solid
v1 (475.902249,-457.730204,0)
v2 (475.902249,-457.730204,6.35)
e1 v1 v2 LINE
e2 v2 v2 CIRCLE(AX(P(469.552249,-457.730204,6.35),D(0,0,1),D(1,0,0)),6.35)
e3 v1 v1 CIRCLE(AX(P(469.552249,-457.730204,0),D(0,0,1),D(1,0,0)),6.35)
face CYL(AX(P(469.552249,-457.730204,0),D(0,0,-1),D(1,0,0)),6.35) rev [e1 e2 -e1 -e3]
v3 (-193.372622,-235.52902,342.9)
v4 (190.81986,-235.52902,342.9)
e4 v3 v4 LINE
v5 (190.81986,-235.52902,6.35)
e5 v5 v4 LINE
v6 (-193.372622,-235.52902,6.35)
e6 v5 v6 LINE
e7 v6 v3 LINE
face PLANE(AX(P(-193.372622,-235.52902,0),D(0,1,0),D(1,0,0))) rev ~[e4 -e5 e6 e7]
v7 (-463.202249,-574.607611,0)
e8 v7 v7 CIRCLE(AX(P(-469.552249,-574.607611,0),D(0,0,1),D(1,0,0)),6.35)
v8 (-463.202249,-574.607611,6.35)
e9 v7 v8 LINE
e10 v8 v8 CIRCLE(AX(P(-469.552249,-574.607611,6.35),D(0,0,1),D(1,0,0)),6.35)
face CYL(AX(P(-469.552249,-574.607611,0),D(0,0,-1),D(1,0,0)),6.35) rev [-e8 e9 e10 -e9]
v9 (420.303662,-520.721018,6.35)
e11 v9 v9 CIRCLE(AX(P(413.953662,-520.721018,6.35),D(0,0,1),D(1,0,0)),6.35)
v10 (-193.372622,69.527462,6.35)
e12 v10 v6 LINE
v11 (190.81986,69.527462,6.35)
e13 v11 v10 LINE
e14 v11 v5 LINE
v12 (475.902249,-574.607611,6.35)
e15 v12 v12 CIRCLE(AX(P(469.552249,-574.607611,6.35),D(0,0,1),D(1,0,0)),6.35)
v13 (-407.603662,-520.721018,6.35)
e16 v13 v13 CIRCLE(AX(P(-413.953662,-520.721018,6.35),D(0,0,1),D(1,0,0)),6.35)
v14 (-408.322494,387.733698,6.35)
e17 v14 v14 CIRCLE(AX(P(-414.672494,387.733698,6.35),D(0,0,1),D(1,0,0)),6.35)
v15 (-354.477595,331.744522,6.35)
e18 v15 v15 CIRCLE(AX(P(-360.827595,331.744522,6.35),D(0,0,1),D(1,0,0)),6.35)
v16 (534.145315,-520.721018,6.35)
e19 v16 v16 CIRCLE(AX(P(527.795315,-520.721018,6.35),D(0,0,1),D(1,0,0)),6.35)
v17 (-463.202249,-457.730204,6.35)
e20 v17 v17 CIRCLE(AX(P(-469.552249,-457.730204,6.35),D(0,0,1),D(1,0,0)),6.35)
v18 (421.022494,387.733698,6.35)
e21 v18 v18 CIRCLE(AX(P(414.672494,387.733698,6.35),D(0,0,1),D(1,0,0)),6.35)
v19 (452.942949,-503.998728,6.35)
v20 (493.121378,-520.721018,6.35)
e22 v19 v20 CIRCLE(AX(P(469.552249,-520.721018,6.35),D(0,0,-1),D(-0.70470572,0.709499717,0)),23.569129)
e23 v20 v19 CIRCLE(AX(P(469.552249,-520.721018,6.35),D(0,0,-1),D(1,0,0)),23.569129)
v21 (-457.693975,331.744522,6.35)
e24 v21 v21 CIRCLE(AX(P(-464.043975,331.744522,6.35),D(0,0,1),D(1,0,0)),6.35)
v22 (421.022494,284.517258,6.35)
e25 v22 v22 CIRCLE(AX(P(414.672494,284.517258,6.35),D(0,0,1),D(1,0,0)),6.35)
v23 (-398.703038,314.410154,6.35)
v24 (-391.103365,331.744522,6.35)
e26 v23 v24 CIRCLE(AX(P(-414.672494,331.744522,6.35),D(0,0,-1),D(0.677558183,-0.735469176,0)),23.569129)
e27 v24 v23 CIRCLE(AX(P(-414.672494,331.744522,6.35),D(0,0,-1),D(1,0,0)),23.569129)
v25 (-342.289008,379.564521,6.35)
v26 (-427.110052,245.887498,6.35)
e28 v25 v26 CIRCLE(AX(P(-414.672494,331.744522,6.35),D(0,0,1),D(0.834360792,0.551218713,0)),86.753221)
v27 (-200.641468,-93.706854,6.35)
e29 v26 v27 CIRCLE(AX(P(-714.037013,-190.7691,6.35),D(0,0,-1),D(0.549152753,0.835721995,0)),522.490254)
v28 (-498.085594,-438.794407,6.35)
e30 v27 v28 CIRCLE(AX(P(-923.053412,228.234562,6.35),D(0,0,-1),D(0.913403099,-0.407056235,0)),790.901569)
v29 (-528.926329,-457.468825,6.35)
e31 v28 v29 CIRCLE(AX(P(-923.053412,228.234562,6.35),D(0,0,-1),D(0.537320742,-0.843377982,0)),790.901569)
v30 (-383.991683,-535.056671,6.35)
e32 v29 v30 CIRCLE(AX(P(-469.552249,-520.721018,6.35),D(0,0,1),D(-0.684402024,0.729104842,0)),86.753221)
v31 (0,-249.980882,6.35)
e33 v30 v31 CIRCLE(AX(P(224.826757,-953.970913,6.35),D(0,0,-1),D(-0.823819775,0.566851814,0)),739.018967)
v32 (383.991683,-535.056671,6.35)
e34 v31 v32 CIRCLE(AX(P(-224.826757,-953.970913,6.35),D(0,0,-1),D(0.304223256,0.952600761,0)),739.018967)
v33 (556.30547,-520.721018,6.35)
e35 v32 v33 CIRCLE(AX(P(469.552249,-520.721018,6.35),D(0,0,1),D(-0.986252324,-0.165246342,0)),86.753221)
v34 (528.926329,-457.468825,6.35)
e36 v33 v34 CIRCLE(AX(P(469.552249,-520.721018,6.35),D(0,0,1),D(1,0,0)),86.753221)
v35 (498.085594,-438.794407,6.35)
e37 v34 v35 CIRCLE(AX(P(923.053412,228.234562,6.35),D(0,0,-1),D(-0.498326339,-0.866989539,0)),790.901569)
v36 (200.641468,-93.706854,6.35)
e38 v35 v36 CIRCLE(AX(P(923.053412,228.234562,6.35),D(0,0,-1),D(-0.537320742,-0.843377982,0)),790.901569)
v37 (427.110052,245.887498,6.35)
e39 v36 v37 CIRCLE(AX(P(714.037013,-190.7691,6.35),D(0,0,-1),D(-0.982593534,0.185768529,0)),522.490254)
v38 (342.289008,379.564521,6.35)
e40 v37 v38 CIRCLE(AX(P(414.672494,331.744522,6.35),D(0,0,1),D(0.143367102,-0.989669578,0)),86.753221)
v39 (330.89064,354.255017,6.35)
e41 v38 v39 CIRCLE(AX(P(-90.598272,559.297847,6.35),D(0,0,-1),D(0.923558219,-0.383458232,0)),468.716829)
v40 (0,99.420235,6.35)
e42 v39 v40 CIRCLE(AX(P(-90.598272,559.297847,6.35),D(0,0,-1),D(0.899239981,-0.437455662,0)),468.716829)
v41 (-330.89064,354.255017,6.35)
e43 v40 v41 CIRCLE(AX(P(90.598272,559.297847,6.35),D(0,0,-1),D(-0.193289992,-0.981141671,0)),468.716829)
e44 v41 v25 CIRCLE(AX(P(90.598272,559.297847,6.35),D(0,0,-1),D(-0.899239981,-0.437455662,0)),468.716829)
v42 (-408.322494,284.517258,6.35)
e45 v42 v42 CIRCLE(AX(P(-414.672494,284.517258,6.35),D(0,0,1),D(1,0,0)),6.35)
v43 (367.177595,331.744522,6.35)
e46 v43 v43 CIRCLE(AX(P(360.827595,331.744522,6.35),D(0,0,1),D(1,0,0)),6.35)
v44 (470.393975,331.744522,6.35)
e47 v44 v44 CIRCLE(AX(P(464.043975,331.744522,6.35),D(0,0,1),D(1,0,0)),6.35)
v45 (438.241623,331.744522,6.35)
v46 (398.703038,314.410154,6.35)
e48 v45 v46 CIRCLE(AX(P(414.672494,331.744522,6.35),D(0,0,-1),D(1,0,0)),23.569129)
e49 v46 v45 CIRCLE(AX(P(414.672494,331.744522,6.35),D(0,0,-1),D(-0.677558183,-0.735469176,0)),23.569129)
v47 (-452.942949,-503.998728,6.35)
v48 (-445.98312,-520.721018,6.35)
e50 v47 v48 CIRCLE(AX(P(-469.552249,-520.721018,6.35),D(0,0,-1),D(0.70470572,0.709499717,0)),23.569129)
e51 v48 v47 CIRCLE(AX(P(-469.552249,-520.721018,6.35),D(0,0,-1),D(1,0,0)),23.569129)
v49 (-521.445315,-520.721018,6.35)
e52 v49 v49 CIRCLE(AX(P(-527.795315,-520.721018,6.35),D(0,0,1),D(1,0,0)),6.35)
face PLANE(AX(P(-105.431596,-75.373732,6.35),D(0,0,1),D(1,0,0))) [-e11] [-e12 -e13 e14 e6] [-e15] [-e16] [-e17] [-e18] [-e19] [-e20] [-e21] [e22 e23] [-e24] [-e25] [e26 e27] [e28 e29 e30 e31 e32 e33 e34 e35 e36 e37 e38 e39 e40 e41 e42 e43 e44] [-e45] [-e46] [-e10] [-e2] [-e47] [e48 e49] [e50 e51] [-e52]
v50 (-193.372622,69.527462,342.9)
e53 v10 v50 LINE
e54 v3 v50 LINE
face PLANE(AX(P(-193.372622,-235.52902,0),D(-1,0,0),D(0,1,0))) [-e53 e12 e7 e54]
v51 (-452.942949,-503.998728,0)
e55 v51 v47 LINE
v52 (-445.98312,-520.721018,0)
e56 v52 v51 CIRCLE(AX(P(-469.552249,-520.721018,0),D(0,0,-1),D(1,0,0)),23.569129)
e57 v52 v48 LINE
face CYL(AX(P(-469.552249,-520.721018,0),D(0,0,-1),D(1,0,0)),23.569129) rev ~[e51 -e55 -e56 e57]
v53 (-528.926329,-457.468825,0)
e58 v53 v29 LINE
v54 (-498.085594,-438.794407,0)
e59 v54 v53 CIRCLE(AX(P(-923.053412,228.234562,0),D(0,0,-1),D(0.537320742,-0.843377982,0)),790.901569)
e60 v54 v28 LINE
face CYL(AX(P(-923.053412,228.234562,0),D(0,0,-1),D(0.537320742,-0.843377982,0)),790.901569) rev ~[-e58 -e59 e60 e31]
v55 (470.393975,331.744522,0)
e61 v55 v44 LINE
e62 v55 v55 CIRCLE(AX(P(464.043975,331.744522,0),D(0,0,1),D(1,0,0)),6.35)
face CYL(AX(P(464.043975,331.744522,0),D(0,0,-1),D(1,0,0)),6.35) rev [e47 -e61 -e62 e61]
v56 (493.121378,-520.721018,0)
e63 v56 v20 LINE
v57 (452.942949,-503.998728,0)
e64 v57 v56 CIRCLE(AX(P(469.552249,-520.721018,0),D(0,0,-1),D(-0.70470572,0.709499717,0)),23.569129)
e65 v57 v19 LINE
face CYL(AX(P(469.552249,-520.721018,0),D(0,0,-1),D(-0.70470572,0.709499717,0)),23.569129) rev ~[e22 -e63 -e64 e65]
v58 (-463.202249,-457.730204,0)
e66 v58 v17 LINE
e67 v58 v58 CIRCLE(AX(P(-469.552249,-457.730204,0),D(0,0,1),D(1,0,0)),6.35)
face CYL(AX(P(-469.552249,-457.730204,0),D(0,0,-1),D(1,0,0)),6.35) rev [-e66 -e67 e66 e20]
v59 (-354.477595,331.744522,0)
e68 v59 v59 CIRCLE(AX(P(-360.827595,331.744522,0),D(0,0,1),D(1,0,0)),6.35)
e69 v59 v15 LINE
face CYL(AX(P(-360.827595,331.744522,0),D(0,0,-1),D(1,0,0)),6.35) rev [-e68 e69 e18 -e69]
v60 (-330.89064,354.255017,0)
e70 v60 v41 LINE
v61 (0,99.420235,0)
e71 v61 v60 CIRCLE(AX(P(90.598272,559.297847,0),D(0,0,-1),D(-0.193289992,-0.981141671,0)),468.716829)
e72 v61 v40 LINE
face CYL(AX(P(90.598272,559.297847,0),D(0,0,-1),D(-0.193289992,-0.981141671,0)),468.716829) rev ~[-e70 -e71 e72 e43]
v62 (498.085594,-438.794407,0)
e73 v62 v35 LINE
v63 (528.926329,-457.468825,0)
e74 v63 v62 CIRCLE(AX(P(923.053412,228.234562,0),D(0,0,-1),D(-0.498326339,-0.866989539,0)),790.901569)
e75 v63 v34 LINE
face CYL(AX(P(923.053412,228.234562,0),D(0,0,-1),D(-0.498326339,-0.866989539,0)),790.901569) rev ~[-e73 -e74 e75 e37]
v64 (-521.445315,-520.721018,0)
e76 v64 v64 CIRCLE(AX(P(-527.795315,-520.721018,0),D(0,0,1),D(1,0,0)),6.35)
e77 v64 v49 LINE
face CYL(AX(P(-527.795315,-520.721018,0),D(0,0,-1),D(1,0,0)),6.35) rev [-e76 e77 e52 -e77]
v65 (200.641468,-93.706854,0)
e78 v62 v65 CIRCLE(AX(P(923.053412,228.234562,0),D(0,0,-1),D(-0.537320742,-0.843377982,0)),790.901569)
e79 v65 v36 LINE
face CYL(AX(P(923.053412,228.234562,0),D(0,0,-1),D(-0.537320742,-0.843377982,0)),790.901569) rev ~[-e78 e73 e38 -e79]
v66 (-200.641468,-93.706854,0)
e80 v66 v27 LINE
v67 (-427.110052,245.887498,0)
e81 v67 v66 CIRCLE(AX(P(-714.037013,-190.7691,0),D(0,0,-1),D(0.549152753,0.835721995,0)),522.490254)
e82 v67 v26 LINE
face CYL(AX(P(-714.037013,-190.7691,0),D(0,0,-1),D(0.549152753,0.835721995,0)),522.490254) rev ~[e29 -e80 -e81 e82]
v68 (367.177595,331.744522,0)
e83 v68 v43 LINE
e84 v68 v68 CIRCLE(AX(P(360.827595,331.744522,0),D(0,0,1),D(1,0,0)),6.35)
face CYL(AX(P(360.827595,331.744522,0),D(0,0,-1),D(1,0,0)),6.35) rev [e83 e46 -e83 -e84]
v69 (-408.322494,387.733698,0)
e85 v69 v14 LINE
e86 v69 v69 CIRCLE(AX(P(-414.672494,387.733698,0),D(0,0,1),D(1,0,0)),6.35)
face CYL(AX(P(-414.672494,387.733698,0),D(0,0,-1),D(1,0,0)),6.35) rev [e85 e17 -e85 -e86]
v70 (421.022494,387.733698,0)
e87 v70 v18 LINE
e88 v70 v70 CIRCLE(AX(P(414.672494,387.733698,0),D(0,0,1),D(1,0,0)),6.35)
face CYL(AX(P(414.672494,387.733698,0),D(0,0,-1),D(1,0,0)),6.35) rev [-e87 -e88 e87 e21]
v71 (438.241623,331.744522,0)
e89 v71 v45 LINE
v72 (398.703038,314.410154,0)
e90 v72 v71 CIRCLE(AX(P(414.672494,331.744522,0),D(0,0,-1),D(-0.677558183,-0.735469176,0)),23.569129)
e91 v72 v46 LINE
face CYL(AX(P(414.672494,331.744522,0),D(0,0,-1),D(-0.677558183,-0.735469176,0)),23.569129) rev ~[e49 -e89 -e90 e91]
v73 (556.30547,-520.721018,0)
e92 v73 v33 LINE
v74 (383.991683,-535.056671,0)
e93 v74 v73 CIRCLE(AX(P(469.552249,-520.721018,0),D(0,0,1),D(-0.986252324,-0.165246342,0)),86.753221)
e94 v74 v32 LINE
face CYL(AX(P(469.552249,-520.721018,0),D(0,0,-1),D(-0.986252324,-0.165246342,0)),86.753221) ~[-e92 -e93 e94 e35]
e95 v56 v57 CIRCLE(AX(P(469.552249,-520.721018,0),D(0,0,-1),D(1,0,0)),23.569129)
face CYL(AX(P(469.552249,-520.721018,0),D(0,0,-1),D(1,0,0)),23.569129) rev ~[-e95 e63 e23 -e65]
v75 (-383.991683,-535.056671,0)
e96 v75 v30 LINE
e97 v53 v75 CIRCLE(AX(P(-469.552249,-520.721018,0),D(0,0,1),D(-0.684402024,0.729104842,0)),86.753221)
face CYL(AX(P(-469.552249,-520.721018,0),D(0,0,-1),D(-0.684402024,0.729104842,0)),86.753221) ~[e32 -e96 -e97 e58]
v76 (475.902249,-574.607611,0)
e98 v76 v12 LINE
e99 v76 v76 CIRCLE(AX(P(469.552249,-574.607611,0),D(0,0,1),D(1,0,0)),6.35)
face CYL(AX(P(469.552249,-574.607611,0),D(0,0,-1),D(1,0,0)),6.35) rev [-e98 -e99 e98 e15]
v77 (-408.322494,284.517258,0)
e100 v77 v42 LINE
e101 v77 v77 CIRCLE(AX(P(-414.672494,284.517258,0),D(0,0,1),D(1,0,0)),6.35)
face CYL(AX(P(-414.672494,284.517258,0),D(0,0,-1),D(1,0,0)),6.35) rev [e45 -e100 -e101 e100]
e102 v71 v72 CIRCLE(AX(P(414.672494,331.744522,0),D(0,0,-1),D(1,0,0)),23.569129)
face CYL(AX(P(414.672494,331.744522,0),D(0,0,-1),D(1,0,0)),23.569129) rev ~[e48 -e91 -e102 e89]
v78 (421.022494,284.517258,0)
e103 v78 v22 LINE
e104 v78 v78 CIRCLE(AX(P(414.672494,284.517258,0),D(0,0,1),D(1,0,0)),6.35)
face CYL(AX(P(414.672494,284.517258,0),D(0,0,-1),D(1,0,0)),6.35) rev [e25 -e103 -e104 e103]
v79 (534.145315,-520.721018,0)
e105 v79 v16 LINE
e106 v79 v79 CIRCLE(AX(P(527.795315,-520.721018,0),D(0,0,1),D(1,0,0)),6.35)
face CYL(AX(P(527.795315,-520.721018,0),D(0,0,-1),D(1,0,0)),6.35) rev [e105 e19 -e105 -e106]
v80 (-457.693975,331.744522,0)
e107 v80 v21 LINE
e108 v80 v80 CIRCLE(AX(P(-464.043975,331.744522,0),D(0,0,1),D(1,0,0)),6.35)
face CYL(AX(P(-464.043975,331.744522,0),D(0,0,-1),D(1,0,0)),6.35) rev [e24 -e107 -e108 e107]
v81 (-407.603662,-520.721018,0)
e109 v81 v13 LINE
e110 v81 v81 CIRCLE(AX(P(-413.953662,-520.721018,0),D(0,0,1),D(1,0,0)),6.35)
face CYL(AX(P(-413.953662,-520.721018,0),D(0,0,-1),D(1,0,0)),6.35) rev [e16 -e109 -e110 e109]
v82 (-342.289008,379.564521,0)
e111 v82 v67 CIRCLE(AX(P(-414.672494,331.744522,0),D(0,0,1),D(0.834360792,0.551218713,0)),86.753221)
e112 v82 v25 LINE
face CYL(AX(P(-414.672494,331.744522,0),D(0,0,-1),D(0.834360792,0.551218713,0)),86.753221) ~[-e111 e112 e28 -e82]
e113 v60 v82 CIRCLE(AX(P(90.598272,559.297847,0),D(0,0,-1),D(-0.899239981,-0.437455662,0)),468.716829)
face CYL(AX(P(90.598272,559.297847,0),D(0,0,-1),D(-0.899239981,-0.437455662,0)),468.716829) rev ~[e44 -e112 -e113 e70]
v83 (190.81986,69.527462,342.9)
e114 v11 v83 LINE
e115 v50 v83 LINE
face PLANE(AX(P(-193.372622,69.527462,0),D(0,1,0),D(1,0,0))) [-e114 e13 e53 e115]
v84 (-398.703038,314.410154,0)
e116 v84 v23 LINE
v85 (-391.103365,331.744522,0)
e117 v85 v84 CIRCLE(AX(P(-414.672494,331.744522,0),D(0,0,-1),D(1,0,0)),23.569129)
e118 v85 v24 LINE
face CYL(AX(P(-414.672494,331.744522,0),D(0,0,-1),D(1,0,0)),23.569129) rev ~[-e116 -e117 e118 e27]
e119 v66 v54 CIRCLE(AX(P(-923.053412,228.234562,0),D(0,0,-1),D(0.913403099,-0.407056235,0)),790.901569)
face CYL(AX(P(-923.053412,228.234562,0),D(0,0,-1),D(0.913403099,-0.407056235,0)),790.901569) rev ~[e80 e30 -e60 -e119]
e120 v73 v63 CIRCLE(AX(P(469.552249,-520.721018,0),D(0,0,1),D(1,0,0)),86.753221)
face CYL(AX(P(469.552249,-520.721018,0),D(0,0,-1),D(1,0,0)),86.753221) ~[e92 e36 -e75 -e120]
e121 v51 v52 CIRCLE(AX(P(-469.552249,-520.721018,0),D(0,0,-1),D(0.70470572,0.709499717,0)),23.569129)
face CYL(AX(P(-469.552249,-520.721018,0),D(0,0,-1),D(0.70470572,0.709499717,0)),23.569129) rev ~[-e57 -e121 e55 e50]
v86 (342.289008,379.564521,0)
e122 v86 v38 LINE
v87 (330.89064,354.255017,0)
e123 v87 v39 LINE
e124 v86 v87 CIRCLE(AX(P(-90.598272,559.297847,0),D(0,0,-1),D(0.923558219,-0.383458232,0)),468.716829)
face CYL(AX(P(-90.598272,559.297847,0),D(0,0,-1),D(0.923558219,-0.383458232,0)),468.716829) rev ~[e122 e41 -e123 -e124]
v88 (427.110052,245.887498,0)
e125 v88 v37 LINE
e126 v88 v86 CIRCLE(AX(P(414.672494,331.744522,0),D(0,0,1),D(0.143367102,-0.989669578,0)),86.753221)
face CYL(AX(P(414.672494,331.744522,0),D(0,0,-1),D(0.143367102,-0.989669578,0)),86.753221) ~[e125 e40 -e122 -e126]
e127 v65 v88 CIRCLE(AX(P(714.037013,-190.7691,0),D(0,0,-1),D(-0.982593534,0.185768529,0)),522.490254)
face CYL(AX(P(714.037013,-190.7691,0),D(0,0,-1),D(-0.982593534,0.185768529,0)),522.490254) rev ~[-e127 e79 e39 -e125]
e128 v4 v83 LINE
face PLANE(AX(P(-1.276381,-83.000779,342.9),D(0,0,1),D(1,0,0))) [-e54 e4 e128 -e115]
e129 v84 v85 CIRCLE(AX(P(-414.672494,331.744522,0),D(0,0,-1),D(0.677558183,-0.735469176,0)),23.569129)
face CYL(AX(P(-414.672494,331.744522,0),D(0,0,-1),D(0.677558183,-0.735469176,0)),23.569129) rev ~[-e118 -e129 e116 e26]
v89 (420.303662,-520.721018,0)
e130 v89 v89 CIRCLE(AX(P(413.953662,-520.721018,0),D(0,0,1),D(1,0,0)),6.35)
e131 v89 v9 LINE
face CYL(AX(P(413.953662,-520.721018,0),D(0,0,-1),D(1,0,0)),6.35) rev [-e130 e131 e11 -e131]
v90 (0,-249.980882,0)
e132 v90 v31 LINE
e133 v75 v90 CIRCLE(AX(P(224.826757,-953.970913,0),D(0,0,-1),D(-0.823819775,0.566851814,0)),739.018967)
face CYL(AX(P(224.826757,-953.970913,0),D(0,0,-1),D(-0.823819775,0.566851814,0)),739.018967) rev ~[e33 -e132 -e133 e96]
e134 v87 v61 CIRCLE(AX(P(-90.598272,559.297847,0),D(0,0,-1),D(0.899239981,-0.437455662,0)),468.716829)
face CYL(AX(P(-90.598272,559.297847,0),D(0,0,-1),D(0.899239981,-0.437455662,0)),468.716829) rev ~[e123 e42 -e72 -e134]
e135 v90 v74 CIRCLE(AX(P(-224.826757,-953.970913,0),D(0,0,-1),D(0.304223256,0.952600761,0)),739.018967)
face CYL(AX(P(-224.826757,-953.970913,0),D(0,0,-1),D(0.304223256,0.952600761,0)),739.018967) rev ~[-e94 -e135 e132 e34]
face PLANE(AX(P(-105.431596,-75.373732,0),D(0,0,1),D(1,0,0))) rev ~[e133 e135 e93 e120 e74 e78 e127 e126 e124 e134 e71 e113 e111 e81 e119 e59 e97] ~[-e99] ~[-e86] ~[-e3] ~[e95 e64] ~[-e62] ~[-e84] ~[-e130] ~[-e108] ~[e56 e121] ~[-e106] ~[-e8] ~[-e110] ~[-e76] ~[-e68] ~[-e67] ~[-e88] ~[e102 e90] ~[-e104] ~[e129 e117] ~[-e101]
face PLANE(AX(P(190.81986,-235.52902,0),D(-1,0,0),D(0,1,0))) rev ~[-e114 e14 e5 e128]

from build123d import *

# Parameters (mm, degrees)
F0_R     = 12.7
F0_R_2   = 6.35
F1_DEPTH = 6.35
F2_W     = 384.192481637
F2_H     = 305.0564825535
F3_DEPTH = 342.9


with BuildPart() as f1:
    # F0 (on Top) → F1 (new body)
    with BuildSketch(Plane.XY):
        Polygon((0, 20.4046759754), (0, 99.420234561), (-200.6414681673, 99.420234561), (-200.6414681673, -93.7068536878), (-200.6414681673, -249.9808818102), (0, -249.9808818102), (0, -172.3671704531), (-84.5718756318, -172.3671704531), (-84.5718756318, 20.4046759754), align=None)
        with Locations((-149.8414681673, -186.0281676054)):
            Circle(F0_R, mode=Mode.SUBTRACT)
        with Locations((-149.8410850763, 35.5835556984)):
            Circle(F0_R, mode=Mode.SUBTRACT)
        with BuildLine():
            ThreePointArc((528.9263289283, -457.4688246387), (513.3995365217, -448.3073763574), (498.0855940313, -438.7944071863))
            ThreePointArc((498.0855940313, -438.7944071863), (450.3295426137, -436.1242750207), (408.4167574662, -459.1696323397))
            ThreePointArc((408.4167574662, -459.1696323397), (386.971113082, -494.1413749169), (383.9916826006, -535.0566707847))
            ThreePointArc((383.9916826006, -535.0566707847), (476.7448379257, -607.1755616667), (556.3054700156, -520.7210183144))
            ThreePointArc((556.3054700156, -520.7210183144), (549.1669902089, -486.2592374134), (528.9263289283, -457.4688246387))
        make_face()
        with Locations((413.9536619186, -520.7210183144)):
            Circle(F0_R_2, mode=Mode.SUBTRACT)
        with Locations((469.5522487164, -574.6076107025)):
            Circle(F0_R_2, mode=Mode.SUBTRACT)
        with BuildLine():
            ThreePointArc((493.1213777738, -520.7210183144), (460.4958391633, -542.4807354663), (452.9429486617, -503.9987279144))
            ThreePointArc((452.9429486617, -503.9987279144), (478.6086582694, -498.9613011624), (493.1213777738, -520.7210183144))
        make_face(mode=Mode.SUBTRACT)
        with Locations((527.7953147888, -520.7210183144)):
            Circle(F0_R_2, mode=Mode.SUBTRACT)
        with Locations((469.5522487164, -457.730203867)):
            Circle(F0_R_2, mode=Mode.SUBTRACT)
        with BuildLine():
            ThreePointArc((498.0855940313, -438.7944071863), (323.9779289887, -288.1314492402), (200.6414681673, -93.7068536878))
            Line((200.6414681673, -93.7068536878), (200.6414681673, -249.9808818102))
            Line((200.6414681673, -249.9808818102), (408.4167574662, -459.1696323397))
            ThreePointArc((408.4167574662, -459.1696323397), (450.3295426137, -436.1242750207), (498.0855940313, -438.7944071863))
        make_face()
        Polygon((200.6414681673, 99.420234561), (0, 99.420234561), (0, 20.4046759754), (84.5718756318, 20.4046759754), (84.5718756318, -172.3671704531), (0, -172.3671704531), (0, -249.9808818102), (200.6414681673, -249.9808818102), (200.6414681673, -93.7068536878), align=None)
        with Locations((149.8414681673, -186.0281676054)):
            Circle(F0_R, mode=Mode.SUBTRACT)
        with Locations((149.8410850763, 35.5835556984)):
            Circle(F0_R, mode=Mode.SUBTRACT)
        with BuildLine():
            Line((355.8921389085, 267.9402017142), (200.6414681673, 99.420234561))
            Line((200.6414681673, 99.420234561), (200.6414681673, -93.7068536878))
            ThreePointArc((200.6414681673, -93.7068536878), (279.3415917253, 99.1204583435), (427.1100518471, 245.8874979214))
            ThreePointArc((427.1100518471, 245.8874979214), (389.0113531334, 248.873373327), (355.8921389085, 267.9402017142))
        make_face()
        with BuildLine():
            ThreePointArc((330.8906401246, 354.2550166966), (195.3973793112, 187.9463252543), (0, 99.420234561))
            Line((0, 99.420234561), (200.6414681673, 99.420234561))
            Line((200.6414681673, 99.420234561), (355.8921389085, 267.9402017142))
            ThreePointArc((355.8921389085, 267.9402017142), (331.3444814273, 307.6081646876), (330.8906401246, 354.2550166966))
        make_face()
        with BuildLine():
            Line((-200.6414681673, 99.420234561), (0, 99.420234561))
            ThreePointArc((0, 99.420234561), (-195.3973793112, 187.9463252543), (-330.8906401246, 354.2550166966))
            ThreePointArc((-330.8906401246, 354.2550166966), (-328.6653224016, 343.0974003758), (-327.9192726354, 331.7445218563))
            ThreePointArc((-327.9192726354, 331.7445218563), (-335.2196571274, 296.9110877867), (-355.8921389085, 267.9402017142))
            Line((-355.8921389085, 267.9402017142), (-200.6414681673, 99.420234561))
        make_face()
        with BuildLine():
            Line((-200.6414681673, -93.7068536878), (-200.6414681673, 99.420234561))
            Line((-200.6414681673, 99.420234561), (-355.8921389085, 267.9402017142))
            ThreePointArc((-355.8921389085, 267.9402017142), (-389.0113531334, 248.873373327), (-427.1100518471, 245.8874979214))
            ThreePointArc((-427.1100518471, 245.8874979214), (-279.3415917253, 99.1204583435), (-200.6414681673, -93.7068536878))
        make_face()
        with BuildLine():
            Line((-200.6414681673, -249.9808818102), (-200.6414681673, -93.7068536878))
            ThreePointArc((-200.6414681673, -93.7068536878), (-323.9779289887, -288.1314492402), (-498.0855940313, -438.7944071863))
            ThreePointArc((-498.0855940313, -438.7944071863), (-450.3295426137, -436.1242750207), (-408.4167574662, -459.1696323397))
            Line((-408.4167574662, -459.1696323397), (-200.6414681673, -249.9808818102))
        make_face()
        with BuildLine():
            ThreePointArc((-408.4167574662, -459.1696323397), (-450.3295426137, -436.1242750207), (-498.0855940313, -438.7944071863))
            ThreePointArc((-498.0855940313, -438.7944071863), (-513.3995365217, -448.3073763574), (-528.9263289283, -457.4688246387))
            ThreePointArc((-528.9263289283, -457.4688246387), (-510.4961307794, -597.2044801045), (-383.9916826006, -535.0566707847))
            ThreePointArc((-383.9916826006, -535.0566707847), (-383.097705364, -527.9136075237), (-382.7990274171, -520.7210183144))
            ThreePointArc((-382.7990274171, -520.7210183144), (-389.4591085374, -487.3861971499), (-408.4167574662, -459.1696323397))
        make_face()
        with Locations((-469.5522487164, -574.6076107025)):
            Circle(F0_R_2, mode=Mode.SUBTRACT)
        with Locations((-527.7953147888, -520.7210183144)):
            Circle(F0_R_2, mode=Mode.SUBTRACT)
        with BuildLine():
            ThreePointArc((-445.9831196589, -520.7210183144), (-491.3119658683, -529.7774278674), (-452.9429486617, -503.9987279144))
            ThreePointArc((-452.9429486617, -503.9987279144), (-447.7925315644, -511.6646087613), (-445.9831196589, -520.7210183144))
        make_face(mode=Mode.SUBTRACT)
        with Locations((-413.9536619186, -520.7210183144)):
            Circle(F0_R_2, mode=Mode.SUBTRACT)
        with Locations((-469.5522487164, -457.730203867)):
            Circle(F0_R_2, mode=Mode.SUBTRACT)
        with BuildLine():
            ThreePointArc((342.2890075184, 379.5645208111), (336.7772209347, 366.8253727446), (330.8906401246, 354.2550166966))
            ThreePointArc((330.8906401246, 354.2550166966), (331.3444814273, 307.6081646876), (355.8921389085, 267.9402017142))
            ThreePointArc((355.8921389085, 267.9402017142), (389.0113531334, 248.873373327), (427.1100518471, 245.8874979214))
            ThreePointArc((427.1100518471, 245.8874979214), (480.2663946412, 274.9681042527), (501.4257152339, 331.7445218563))
            ThreePointArc((501.4257152339, 331.7445218563), (439.6386789688, 414.8276790582), (342.2890075184, 379.5645208111))
        make_face()
        with Locations((414.6724939346, 284.5172584057)):
            Circle(F0_R_2, mode=Mode.SUBTRACT)
        with Locations((360.8275949955, 331.7445218563)):
            Circle(F0_R_2, mode=Mode.SUBTRACT)
        with BuildLine():
            ThreePointArc((438.2416229921, 331.7445218563), (424.1360468818, 310.1587624269), (398.7030376666, 314.4101539409))
            ThreePointArc((398.7030376666, 314.4101539409), (405.2089409875, 353.3302812857), (438.2416229921, 331.7445218563))
        make_face(mode=Mode.SUBTRACT)
        with Locations((414.6724939346, 387.7336978912)):
            Circle(F0_R_2, mode=Mode.SUBTRACT)
        with Locations((464.0439748764, 331.7445218563)):
            Circle(F0_R_2, mode=Mode.SUBTRACT)
        with BuildLine():
            ThreePointArc((-327.9192726354, 331.7445218563), (-328.6653224016, 343.0974003758), (-330.8906401246, 354.2550166966))
            ThreePointArc((-330.8906401246, 354.2550166966), (-336.7772209347, 366.8253727445), (-342.2890075184, 379.5645208111))
            ThreePointArc((-342.2890075184, 379.5645208111), (-487.9238775271, 378.2241540363), (-427.1100518471, 245.8874979214))
            ThreePointArc((-427.1100518471, 245.8874979214), (-389.0113531334, 248.873373327), (-355.8921389085, 267.9402017142))
            ThreePointArc((-355.8921389085, 267.9402017142), (-335.2196571274, 296.9110877867), (-327.9192726354, 331.7445218563))
        make_face()
        with Locations((-414.6724939346, 284.5172584057)):
            Circle(F0_R_2, mode=Mode.SUBTRACT)
        with Locations((-464.0439748764, 331.7445218563)):
            Circle(F0_R_2, mode=Mode.SUBTRACT)
        with BuildLine():
            ThreePointArc((-391.1033648772, 331.7445218563), (-393.0867345053, 322.2809689092), (-398.7030376666, 314.4101539409))
            ThreePointArc((-398.7030376666, 314.4101539409), (-436.258253364, 341.2080748035), (-391.1033648772, 331.7445218563))
        make_face(mode=Mode.SUBTRACT)
        with Locations((-360.8275949955, 331.7445218563)):
            Circle(F0_R_2, mode=Mode.SUBTRACT)
        with Locations((-414.6724939346, 387.7336978912)):
            Circle(F0_R_2, mode=Mode.SUBTRACT)
        with BuildLine():
            ThreePointArc((-383.9916826006, -535.0566707847), (-215.6935374643, -360.5984288821), (0, -249.9808818102))
            Line((0, -249.9808818102), (-200.6414681673, -249.9808818102))
            Line((-200.6414681673, -249.9808818102), (-408.4167574662, -459.1696323397))
            ThreePointArc((-408.4167574662, -459.1696323397), (-389.4591085374, -487.3861971499), (-382.7990274171, -520.7210183144))
            ThreePointArc((-382.7990274171, -520.7210183144), (-383.097705364, -527.9136075237), (-383.9916826006, -535.0566707847))
        make_face()
        with BuildLine():
            Line((408.4167574662, -459.1696323397), (200.6414681673, -249.9808818102))
            Line((200.6414681673, -249.9808818102), (0, -249.9808818102))
            ThreePointArc((0, -249.9808818102), (215.6935374643, -360.5984288821), (383.9916826006, -535.0566707847))
            ThreePointArc((383.9916826006, -535.0566707847), (386.971113082, -494.1413749169), (408.4167574662, -459.1696323397))
        make_face()
    extrude(amount=F1_DEPTH)

    # F2 (on Top) → F3 (join)
    with BuildSketch(Plane.XY):
        with Locations((-1.2763813138, -83.0007791519)):
            Rectangle(F2_W, F2_H)
    extrude(amount=F3_DEPTH)


solid = f1.part
